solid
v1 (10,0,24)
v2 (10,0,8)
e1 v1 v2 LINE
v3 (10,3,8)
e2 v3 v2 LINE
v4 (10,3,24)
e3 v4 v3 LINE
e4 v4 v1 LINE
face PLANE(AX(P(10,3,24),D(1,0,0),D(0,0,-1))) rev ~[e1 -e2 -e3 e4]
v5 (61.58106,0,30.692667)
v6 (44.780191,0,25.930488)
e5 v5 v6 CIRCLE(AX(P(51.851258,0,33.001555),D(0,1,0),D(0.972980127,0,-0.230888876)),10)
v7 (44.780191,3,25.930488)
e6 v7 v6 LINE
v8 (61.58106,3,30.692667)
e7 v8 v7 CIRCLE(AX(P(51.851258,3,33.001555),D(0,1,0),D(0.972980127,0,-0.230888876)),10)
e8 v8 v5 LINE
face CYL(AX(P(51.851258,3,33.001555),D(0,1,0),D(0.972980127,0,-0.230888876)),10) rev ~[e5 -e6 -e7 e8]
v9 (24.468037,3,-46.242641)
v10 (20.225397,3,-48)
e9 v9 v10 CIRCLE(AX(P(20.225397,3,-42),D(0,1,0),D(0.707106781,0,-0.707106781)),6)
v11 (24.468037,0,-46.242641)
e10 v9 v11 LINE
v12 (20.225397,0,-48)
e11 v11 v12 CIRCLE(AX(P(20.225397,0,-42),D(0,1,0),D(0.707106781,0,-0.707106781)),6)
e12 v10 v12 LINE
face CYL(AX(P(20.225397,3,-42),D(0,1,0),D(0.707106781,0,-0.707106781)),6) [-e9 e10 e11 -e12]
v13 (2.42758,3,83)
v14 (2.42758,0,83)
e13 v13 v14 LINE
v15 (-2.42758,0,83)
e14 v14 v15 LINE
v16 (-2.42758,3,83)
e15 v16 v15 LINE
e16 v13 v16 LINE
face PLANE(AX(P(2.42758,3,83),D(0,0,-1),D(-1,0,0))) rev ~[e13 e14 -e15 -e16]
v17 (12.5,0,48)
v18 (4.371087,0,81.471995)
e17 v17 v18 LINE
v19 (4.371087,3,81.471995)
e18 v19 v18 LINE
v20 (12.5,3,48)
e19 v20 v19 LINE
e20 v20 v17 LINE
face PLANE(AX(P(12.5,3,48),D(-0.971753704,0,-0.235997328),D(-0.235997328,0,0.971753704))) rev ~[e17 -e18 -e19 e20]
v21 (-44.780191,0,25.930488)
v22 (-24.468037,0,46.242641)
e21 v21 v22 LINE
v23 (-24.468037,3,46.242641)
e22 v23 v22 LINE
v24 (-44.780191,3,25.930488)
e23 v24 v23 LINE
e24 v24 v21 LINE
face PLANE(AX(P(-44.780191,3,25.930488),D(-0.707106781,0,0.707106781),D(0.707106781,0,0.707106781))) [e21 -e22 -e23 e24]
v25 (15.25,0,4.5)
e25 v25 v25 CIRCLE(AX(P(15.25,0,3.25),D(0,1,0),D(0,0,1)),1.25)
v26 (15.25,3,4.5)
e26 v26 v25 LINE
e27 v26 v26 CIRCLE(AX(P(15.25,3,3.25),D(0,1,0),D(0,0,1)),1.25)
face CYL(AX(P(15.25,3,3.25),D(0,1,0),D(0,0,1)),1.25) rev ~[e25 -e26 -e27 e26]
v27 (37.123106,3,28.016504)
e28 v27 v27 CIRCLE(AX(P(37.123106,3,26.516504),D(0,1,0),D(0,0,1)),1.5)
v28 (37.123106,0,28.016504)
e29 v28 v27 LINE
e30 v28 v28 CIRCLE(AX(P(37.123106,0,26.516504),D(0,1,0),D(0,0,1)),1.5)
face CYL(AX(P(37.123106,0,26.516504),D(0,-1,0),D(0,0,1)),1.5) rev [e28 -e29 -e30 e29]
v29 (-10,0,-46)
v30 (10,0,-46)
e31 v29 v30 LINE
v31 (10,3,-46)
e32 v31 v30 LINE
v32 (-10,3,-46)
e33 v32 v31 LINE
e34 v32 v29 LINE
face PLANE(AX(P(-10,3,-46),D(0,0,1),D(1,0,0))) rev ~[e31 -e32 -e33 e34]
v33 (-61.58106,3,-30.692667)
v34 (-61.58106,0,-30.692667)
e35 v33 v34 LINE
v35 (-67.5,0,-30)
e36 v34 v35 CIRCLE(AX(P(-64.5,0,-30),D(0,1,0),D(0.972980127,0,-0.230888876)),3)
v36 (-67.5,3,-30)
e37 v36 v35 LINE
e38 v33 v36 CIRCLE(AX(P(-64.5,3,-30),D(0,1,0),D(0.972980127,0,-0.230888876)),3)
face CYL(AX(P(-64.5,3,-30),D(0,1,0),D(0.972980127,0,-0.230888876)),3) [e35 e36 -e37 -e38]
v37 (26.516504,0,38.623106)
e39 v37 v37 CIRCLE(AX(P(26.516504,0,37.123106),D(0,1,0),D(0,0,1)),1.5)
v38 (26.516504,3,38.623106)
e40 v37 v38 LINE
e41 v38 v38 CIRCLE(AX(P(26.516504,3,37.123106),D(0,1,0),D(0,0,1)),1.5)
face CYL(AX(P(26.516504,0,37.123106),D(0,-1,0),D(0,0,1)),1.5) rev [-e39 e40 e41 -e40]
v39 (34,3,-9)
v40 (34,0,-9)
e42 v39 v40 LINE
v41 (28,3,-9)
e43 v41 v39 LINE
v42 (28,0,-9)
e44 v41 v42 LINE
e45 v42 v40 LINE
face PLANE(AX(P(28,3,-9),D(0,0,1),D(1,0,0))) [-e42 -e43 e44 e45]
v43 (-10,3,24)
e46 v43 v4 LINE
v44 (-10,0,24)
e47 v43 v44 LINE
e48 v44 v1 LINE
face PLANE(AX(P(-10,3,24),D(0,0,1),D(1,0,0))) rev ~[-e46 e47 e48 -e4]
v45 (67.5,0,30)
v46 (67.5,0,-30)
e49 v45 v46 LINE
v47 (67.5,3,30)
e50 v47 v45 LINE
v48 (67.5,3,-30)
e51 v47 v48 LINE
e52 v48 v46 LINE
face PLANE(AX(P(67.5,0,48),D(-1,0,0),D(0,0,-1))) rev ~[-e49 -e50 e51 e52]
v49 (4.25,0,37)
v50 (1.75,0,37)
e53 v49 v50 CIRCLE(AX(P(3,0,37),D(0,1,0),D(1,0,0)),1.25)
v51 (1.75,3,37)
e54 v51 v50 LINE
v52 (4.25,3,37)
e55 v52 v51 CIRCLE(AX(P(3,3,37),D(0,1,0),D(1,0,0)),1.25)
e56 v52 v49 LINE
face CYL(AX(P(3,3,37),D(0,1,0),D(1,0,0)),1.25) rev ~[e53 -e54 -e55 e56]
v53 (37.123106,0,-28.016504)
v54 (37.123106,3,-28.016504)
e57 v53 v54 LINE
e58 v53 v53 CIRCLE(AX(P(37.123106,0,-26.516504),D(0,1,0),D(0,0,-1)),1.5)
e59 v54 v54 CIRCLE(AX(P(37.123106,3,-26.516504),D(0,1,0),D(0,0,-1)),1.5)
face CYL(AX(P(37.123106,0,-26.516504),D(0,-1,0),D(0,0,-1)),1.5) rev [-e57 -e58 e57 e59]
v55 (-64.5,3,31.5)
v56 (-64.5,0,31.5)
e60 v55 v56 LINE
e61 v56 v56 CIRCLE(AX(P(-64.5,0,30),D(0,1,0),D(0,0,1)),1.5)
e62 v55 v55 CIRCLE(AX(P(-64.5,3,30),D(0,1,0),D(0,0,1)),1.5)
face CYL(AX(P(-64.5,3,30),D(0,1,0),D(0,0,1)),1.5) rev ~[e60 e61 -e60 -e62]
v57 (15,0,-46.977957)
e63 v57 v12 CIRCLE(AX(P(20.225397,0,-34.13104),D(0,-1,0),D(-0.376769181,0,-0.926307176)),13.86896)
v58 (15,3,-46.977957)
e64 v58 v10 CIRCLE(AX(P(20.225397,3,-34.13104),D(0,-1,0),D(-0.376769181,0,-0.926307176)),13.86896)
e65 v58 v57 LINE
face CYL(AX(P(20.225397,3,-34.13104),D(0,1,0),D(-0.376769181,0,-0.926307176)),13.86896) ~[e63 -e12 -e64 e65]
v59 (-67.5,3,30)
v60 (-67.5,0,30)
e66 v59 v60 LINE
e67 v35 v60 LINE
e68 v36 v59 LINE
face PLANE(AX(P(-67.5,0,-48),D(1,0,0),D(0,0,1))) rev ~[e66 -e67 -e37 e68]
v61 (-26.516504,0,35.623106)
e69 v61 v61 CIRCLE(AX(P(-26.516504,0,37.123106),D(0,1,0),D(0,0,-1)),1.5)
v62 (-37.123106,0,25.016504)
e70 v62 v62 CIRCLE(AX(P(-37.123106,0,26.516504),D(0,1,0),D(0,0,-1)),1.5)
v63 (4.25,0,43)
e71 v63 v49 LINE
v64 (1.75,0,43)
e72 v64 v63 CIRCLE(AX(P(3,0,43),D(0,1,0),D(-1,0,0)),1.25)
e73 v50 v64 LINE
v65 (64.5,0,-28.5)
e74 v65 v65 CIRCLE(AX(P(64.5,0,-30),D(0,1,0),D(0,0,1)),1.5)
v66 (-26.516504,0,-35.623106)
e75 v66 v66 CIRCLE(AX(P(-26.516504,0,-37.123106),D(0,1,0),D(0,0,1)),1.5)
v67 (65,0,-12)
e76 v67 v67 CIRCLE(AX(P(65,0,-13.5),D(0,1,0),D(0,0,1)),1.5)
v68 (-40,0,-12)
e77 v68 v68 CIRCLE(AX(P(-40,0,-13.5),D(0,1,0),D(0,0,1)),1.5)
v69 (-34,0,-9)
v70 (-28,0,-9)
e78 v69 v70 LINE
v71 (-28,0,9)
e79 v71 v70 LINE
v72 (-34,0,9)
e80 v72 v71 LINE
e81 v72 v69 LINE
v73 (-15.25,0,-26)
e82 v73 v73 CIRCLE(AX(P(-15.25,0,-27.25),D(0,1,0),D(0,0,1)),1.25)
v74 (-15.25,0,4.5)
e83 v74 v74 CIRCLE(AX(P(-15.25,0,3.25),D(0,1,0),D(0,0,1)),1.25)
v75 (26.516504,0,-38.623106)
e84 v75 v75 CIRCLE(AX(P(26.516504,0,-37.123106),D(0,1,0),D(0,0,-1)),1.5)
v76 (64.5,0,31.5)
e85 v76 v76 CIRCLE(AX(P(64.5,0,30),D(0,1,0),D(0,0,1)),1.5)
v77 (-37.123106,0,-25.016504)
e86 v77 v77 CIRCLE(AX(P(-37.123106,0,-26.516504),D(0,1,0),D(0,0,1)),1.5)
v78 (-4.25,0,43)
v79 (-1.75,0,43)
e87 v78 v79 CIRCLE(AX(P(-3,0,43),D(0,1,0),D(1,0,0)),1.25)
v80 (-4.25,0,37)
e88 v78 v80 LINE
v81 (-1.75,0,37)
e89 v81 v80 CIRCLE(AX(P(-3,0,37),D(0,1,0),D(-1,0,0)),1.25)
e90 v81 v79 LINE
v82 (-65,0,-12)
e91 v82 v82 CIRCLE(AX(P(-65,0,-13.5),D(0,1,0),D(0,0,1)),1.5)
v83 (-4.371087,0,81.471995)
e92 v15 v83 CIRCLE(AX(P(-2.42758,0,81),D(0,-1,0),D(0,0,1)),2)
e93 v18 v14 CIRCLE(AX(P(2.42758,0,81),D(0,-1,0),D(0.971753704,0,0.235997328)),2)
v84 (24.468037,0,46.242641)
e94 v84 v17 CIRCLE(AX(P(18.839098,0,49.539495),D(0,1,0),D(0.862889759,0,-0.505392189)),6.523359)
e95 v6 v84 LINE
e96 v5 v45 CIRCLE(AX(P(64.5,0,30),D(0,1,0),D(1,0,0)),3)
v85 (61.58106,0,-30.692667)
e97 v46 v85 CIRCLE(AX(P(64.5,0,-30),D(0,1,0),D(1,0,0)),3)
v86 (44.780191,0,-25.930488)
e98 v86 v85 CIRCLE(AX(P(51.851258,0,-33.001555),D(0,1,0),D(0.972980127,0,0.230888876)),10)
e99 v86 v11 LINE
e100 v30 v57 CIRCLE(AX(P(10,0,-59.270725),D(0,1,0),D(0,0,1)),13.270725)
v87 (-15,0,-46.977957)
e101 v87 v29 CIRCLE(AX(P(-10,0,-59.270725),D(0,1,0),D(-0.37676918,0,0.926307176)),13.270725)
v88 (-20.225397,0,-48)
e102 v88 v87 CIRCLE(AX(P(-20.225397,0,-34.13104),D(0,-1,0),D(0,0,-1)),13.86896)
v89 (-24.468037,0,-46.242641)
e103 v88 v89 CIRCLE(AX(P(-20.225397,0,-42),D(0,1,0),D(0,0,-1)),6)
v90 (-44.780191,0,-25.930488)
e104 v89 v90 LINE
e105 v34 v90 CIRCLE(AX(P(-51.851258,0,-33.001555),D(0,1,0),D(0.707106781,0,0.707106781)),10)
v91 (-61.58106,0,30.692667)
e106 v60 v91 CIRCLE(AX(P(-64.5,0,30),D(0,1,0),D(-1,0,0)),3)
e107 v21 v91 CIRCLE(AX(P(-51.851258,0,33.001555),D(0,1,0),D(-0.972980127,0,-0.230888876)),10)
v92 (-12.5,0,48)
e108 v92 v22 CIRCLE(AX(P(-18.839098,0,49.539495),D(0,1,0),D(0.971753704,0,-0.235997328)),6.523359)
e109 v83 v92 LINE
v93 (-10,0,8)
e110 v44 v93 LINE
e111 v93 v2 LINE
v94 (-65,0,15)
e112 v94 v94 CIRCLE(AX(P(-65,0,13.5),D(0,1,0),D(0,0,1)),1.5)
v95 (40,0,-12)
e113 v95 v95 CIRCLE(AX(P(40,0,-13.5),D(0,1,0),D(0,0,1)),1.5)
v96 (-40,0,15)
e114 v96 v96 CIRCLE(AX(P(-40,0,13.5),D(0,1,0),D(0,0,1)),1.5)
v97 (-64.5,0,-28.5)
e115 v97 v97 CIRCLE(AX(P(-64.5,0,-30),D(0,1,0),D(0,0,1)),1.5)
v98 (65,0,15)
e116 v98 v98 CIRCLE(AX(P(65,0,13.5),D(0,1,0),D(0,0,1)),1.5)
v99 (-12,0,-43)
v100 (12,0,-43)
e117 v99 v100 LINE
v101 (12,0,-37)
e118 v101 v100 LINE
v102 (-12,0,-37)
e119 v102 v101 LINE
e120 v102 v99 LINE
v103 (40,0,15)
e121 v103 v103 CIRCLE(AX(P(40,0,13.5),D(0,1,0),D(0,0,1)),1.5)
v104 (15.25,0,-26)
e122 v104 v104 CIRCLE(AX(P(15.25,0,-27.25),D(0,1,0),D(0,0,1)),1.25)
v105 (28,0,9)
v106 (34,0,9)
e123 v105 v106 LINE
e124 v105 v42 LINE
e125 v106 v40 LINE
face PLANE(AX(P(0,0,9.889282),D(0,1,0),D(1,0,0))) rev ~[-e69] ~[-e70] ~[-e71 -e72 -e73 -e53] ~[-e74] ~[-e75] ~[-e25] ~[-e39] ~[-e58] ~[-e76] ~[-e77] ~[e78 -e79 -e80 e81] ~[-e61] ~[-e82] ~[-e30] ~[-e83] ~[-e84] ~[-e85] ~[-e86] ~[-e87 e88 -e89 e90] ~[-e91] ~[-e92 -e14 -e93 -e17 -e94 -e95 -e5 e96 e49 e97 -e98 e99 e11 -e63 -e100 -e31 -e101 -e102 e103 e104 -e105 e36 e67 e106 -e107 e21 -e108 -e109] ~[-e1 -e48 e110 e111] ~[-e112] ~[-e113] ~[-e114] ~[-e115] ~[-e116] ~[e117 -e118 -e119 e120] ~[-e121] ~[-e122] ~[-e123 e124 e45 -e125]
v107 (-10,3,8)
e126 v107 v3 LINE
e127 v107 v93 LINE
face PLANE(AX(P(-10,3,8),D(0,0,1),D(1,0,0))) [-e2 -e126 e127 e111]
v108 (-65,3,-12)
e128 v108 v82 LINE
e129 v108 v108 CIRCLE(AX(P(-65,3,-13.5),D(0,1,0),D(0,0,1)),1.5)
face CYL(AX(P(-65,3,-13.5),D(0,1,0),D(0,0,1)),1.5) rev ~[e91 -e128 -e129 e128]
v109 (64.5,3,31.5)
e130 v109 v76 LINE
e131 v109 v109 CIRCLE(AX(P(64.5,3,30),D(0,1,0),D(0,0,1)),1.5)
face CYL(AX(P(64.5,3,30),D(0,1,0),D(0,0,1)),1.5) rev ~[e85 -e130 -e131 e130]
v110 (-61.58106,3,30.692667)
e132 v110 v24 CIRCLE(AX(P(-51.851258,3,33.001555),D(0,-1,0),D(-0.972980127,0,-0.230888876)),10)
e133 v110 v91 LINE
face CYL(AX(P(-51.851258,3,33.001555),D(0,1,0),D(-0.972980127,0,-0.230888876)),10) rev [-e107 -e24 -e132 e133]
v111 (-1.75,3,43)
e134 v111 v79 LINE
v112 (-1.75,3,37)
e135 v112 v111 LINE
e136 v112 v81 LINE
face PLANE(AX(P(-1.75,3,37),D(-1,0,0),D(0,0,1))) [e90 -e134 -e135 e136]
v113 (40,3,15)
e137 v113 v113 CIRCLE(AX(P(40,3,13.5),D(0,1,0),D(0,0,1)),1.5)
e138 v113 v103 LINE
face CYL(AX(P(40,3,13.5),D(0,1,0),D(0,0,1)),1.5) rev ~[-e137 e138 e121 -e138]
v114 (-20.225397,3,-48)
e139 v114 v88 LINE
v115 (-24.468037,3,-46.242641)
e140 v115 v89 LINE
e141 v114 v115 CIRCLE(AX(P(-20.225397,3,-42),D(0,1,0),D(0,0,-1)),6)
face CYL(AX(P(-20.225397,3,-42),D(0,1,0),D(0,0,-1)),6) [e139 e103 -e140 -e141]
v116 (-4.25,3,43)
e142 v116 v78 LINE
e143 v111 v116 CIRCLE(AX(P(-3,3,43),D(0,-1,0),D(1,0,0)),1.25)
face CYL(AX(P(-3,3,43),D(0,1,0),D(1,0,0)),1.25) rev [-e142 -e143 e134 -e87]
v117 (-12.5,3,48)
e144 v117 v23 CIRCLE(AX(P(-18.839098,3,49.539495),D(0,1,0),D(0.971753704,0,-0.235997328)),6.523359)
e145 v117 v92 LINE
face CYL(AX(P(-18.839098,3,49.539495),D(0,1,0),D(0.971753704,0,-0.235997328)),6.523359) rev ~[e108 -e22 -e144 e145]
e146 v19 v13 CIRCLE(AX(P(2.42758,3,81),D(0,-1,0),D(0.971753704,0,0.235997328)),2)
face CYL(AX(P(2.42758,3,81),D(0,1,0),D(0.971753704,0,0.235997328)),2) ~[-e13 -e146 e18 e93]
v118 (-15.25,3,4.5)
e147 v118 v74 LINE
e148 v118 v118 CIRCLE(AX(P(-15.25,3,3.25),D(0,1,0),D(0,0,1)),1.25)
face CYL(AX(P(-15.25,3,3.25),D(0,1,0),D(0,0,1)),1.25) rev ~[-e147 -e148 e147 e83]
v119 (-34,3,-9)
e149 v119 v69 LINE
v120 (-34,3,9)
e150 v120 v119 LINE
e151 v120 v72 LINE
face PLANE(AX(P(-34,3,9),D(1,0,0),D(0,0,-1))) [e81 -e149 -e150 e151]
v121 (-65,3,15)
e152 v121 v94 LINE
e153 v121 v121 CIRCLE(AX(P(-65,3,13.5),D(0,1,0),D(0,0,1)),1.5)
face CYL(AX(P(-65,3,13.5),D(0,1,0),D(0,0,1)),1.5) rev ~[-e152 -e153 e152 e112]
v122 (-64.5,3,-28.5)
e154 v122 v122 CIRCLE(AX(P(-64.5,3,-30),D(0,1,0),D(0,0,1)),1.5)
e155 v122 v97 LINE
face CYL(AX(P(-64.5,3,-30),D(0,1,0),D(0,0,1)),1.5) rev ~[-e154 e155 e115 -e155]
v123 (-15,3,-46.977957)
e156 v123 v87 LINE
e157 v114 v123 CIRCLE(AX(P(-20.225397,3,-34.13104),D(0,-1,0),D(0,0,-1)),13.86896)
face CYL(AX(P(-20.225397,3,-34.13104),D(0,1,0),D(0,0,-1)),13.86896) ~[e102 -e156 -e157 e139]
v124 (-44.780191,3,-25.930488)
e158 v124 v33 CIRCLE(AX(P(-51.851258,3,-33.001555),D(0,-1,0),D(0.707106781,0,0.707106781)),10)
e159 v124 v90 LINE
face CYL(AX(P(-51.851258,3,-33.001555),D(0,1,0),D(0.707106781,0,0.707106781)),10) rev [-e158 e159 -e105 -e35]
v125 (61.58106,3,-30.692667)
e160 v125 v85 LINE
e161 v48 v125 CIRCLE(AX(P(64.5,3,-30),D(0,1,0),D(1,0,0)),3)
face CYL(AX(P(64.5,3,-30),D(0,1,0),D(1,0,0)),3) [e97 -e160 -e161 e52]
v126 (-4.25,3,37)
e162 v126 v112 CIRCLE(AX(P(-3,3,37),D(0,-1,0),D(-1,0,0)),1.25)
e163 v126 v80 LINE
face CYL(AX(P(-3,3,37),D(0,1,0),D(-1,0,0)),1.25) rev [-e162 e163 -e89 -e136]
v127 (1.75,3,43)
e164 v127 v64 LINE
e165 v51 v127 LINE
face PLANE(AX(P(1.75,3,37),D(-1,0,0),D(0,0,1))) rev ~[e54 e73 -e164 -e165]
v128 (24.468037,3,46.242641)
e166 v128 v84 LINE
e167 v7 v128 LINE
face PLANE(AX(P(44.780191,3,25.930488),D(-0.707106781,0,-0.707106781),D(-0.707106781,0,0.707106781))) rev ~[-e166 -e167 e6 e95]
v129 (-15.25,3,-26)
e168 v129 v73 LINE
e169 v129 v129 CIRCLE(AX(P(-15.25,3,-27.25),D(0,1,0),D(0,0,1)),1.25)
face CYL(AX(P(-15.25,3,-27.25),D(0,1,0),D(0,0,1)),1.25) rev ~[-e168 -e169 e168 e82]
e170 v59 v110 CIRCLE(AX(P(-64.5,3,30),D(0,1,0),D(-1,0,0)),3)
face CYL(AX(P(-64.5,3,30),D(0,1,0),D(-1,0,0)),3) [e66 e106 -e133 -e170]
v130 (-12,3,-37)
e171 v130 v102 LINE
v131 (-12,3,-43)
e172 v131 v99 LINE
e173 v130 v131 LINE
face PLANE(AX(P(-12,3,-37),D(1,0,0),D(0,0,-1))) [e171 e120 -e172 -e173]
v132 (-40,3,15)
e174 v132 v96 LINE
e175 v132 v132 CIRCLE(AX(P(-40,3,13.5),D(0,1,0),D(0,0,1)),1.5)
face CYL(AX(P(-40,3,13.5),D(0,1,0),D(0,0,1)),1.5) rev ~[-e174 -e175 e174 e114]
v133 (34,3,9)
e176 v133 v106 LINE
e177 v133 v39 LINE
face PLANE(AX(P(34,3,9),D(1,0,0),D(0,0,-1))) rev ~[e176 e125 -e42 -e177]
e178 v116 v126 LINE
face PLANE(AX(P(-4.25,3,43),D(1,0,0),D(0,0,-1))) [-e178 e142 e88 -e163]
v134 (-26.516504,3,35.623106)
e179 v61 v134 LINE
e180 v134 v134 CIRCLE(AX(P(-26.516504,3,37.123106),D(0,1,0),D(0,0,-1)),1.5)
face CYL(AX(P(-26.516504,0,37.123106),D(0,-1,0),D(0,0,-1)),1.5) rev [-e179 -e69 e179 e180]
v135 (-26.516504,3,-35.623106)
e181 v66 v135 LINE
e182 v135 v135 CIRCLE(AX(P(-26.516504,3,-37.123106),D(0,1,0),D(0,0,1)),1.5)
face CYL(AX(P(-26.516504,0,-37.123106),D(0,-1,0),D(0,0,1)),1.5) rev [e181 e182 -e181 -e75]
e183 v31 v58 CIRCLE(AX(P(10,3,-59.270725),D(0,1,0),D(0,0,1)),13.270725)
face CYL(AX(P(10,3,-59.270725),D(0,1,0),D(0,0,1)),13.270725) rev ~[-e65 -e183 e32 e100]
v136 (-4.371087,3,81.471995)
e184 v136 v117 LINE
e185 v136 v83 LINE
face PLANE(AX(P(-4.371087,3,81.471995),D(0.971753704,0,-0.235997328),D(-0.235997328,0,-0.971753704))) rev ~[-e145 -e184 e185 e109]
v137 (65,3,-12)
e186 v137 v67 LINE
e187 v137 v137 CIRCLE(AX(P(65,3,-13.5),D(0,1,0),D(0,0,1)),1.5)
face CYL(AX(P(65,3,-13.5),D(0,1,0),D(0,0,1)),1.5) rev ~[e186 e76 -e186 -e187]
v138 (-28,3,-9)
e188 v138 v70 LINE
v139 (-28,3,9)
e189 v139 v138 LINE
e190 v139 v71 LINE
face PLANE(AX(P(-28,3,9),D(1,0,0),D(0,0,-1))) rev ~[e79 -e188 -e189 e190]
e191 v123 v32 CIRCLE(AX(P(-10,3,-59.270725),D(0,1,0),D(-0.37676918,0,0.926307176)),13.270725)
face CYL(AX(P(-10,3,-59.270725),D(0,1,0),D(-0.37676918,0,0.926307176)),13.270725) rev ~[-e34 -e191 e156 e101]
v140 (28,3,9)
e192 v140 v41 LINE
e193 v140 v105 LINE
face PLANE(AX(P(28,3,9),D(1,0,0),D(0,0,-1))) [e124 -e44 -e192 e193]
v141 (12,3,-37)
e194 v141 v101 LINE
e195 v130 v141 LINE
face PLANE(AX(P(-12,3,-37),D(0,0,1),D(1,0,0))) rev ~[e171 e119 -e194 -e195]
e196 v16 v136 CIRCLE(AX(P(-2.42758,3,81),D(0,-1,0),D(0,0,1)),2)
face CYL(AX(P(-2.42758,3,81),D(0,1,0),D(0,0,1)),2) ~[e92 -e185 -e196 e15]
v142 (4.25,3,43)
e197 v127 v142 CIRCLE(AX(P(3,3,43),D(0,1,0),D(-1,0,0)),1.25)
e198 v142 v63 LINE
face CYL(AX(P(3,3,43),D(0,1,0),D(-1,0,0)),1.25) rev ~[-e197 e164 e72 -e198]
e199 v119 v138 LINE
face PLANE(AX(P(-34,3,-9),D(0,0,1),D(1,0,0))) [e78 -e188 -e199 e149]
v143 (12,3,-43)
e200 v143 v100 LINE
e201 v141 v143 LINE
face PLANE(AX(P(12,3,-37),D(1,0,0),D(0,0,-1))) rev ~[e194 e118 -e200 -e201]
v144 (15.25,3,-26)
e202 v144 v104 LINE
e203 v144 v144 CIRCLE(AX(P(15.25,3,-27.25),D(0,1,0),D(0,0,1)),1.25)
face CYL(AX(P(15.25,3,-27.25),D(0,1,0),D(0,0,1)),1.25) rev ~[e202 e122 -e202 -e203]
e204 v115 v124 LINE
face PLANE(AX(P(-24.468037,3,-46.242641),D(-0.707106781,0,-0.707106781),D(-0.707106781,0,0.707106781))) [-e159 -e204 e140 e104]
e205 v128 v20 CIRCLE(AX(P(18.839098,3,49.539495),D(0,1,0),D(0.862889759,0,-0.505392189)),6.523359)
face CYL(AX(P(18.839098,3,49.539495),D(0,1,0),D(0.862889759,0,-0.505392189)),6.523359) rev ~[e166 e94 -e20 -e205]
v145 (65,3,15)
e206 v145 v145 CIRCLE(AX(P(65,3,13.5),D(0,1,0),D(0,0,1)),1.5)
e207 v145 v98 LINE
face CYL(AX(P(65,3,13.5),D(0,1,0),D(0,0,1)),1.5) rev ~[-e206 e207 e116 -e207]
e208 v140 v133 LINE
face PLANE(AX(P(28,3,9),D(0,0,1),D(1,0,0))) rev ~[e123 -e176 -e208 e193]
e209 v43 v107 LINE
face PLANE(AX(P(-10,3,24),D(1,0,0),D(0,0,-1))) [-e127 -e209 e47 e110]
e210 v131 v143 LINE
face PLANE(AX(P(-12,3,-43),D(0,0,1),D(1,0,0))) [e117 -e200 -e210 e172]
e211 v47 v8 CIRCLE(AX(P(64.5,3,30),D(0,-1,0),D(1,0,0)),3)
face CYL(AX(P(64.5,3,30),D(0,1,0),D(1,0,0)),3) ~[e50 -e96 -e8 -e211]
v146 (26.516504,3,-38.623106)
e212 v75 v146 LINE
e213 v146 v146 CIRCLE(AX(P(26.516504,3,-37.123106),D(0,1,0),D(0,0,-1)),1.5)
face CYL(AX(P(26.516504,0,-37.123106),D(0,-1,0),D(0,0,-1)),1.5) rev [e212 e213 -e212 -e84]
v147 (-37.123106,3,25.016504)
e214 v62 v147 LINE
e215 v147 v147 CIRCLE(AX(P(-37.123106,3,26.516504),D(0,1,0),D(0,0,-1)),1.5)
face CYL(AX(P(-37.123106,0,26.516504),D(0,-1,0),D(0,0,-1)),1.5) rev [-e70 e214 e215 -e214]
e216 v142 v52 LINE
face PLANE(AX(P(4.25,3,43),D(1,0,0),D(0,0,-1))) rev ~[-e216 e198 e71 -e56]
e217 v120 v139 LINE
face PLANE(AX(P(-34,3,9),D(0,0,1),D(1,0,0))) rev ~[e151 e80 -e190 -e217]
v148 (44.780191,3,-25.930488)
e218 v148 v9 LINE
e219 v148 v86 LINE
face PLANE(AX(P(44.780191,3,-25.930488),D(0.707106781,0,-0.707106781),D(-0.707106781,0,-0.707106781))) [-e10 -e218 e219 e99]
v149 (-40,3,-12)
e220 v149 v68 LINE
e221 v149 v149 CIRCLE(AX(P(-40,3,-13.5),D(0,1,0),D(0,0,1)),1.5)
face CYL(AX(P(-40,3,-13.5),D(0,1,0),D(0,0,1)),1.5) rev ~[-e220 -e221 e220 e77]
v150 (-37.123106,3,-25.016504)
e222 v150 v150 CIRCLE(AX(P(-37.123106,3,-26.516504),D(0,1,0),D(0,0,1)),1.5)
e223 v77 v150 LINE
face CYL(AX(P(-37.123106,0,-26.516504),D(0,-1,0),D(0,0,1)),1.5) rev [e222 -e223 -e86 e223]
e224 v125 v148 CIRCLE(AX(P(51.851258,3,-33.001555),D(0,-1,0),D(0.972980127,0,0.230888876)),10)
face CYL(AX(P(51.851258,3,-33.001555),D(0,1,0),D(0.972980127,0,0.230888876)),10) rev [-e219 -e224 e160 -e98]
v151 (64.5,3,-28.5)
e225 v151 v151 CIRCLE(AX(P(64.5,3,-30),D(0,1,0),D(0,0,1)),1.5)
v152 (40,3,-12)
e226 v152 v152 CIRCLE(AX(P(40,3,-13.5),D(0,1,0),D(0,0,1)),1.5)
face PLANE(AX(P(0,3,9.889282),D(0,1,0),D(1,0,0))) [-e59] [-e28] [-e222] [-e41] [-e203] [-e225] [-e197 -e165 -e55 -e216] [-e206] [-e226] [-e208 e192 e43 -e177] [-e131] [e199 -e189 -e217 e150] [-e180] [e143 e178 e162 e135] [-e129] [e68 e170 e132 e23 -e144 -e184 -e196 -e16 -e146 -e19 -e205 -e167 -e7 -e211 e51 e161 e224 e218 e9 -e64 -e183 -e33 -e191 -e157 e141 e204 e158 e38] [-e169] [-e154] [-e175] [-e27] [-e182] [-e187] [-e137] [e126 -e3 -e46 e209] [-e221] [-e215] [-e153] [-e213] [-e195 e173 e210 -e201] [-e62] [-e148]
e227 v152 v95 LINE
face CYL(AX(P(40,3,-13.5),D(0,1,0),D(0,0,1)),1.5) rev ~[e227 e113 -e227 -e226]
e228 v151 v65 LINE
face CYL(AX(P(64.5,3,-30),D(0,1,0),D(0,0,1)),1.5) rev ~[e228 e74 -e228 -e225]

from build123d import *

# Parameters (mm, degrees)
SKETCH_1_R          = 1.5
EXTRUDE_1_DEPTH     = 3
SKETCH_2_R          = 1.5
SKETCH_2_R_2        = 1.25
SKETCH_2_W          = 20
SKETCH_2_H          = 16
CUT_EXTRUDE_1_DEPTH = 31
SKETCH_3_W          = 24
SKETCH_3_H          = 6
SKETCH_3_W_2        = 6
SKETCH_3_H_2        = 18
CUT_EXTRUDE_2_DEPTH = 10
SKETCH_5_R          = 1.5
CUT_EXTRUDE_3_DEPTH = 10
CUT_EXTRUDE_4_DEPTH = 3


with BuildPart() as part:
    # 草图1 → 凸台-拉伸1 (new body)
    with BuildSketch(Plane(origin=(0, 0, 0), x_dir=(1, 0, 0), z_dir=(0, 1, 0))):
        with BuildLine():
            Line((-12.5, -50), (-12.5, -81))
            ThreePointArc((-12.5, -81), (-11.914213562, -82.414213562), (-10.5, -83))
            Line((-10.5, -83), (10.5, -83))
            ThreePointArc((10.5, -83), (11.914213562, -82.414213562), (12.5, -81))
            Line((12.5, -81), (12.5, -50))
            ThreePointArc((12.5, -50), (13.085786438, -48.585786438), (14.5, -48))
            Line((14.5, -48), (67.5, -48))
            Line((67.5, -48), (67.5, 48))
            Line((67.5, 48), (-67.5, 48))
            Line((-67.5, 48), (-67.5, -48))
            Line((-67.5, -48), (-14.5, -48))
            ThreePointArc((-14.5, -48), (-13.085786438, -48.585786438), (-12.5, -50))
        make_face()
        with Locations(Location((-37.123106012, 26.516504294, 0), (0, 0, 270))):
            Circle(SKETCH_1_R, mode=Mode.SUBTRACT)
        with Locations(Location((-26.516504294, 37.123106012, 0), (0, 0, 270))):
            Circle(SKETCH_1_R, mode=Mode.SUBTRACT)
        with Locations(Location((26.516504294, 37.123106012, 0), (0, 0, 90))):
            Circle(SKETCH_1_R, mode=Mode.SUBTRACT)
        with Locations(Location((37.123106012, 26.516504294, 0), (0, 0, 90))):
            Circle(SKETCH_1_R, mode=Mode.SUBTRACT)
        with Locations(Location((37.123106012, -26.516504294, 0), (0, 0, 270))):
            Circle(SKETCH_1_R, mode=Mode.SUBTRACT)
        with Locations(Location((26.516504294, -37.123106012, 0), (0, 0, 270))):
            Circle(SKETCH_1_R, mode=Mode.SUBTRACT)
        with Locations(Location((-37.123106012, -26.516504294, 0), (0, 0, 90))):
            Circle(SKETCH_1_R, mode=Mode.SUBTRACT)
        with Locations(Location((-26.516504294, -37.123106012, 0), (0, 0, 90))):
            Circle(SKETCH_1_R, mode=Mode.SUBTRACT)
    extrude(amount=EXTRUDE_1_DEPTH)

    # 草图2 → 切除-拉伸1 (cut)
    with BuildSketch(Plane(origin=(0, 3, 0), x_dir=(1, 0, 0), z_dir=(0, 1, 0))):
        with Locations(Location((-40, 13.5, 0), (0, 0, 270))):
            Circle(SKETCH_2_R)
        with Locations(Location((-40, -13.5, 0), (0, 0, 270))):
            Circle(SKETCH_2_R)
        with Locations(Location((-65, 13.5, 0), (0, 0, 270))):
            Circle(SKETCH_2_R)
        with Locations(Location((-65, -13.5, 0), (0, 0, 270))):
            Circle(SKETCH_2_R)
        with Locations(Location((40, -13.5, 0), (0, 0, 270))):
            Circle(SKETCH_2_R)
        with Locations(Location((40, 13.5, 0), (0, 0, 270))):
            Circle(SKETCH_2_R)
        with Locations(Location((65, -13.5, 0), (0, 0, 270))):
            Circle(SKETCH_2_R)
        with Locations(Location((65, 13.5, 0), (0, 0, 270))):
            Circle(SKETCH_2_R)
        with Locations(Location((-15.25, 27.25, 0), (0, 0, 270))):
            Circle(SKETCH_2_R_2)
        with Locations(Location((15.25, 27.25, 0), (0, 0, 270))):
            Circle(SKETCH_2_R_2)
        with Locations(Location((15.25, -3.25, 0), (0, 0, 270))):
            Circle(SKETCH_2_R_2)
        with Locations(Location((-15.25, -3.25, 0), (0, 0, 270))):
            Circle(SKETCH_2_R_2)
        with BuildLine():
            Line((4.25, -43), (4.25, -37))
            ThreePointArc((4.25, -37), (3, -35.75), (1.75, -37))
            Line((1.75, -37), (1.75, -43))
            ThreePointArc((1.75, -43), (3, -44.25), (4.25, -43))
        make_face()
        with BuildLine():
            Line((-4.25, -43), (-4.25, -37))
            ThreePointArc((-4.25, -37), (-3, -35.75), (-1.75, -37))
            Line((-1.75, -37), (-1.75, -43))
            ThreePointArc((-1.75, -43), (-3, -44.25), (-4.25, -43))
        make_face()
        with Locations((0, -16)):
            Rectangle(SKETCH_2_W, SKETCH_2_H)
    extrude(amount=-CUT_EXTRUDE_1_DEPTH, mode=Mode.SUBTRACT)

    # 草图3 → 切除-拉伸2 (cut)
    with BuildSketch(Plane(origin=(0, 3, 0), x_dir=(1, 0, 0), z_dir=(0, 1, 0))):
        with Locations((0, 40)):
            Rectangle(SKETCH_3_W, SKETCH_3_H)
        with Locations((31, 0)):
            Rectangle(SKETCH_3_W_2, SKETCH_3_H_2)
        with Locations((-31, 0)):
            Rectangle(SKETCH_3_W_2, SKETCH_3_H_2)
    extrude(amount=-CUT_EXTRUDE_2_DEPTH, mode=Mode.SUBTRACT)

    # 草图5 → 切除-拉伸3 (cut)
    with BuildSketch(Plane(origin=(0, 3, 0), x_dir=(1, 0, 0), z_dir=(0, 1, 0))):
        with Locations(Location((-64.5, 30, 0), (0, 0, 270))):
            Circle(SKETCH_5_R)
        with Locations(Location((64.5, 30, 0), (0, 0, 270))):
            Circle(SKETCH_5_R)
        with Locations(Location((64.5, -30, 0), (0, 0, 270))):
            Circle(SKETCH_5_R)
        with Locations(Location((-64.5, -30, 0), (0, 0, 270))):
            Circle(SKETCH_5_R)
        with BuildLine():
            Line((-24.468037432, 46.242640687), (-44.780190541, 25.930487577))
            ThreePointArc((-44.780190541, 25.930487577), (-54.578308632, 23.380578475), (-61.58105962, 30.692666628))
            ThreePointArc((-61.58105962, 30.692666628), (-64.848696759, 32.979666184), (-67.5, 30))
            Line((-67.5, 30), (-67.5, 48))
            Line((-67.5, 48), (-20.225396744, 48))
            ThreePointArc((-20.225396744, 48), (-22.521497339, 47.543277195), (-24.468037432, 46.242640687))
        make_face()
        with BuildLine():
            Line((67.5, 48), (67.5, 30))
            ThreePointArc((67.5, 30), (64.848696759, 32.979666184), (61.58105962, 30.692666628))
            ThreePointArc((61.58105962, 30.692666628), (54.578308632, 23.380578475), (44.780190541, 25.930487577))
            Line((44.780190541, 25.930487577), (24.468037432, 46.242640687))
            ThreePointArc((24.468037432, 46.242640687), (22.521497339, 47.543277195), (20.225396744, 48))
            Line((20.225396744, 48), (67.5, 48))
        make_face()
        with BuildLine():
            Line((67.5, -48), (67.5, -30))
            ThreePointArc((67.5, -30), (64.848696759, -32.979666184), (61.58105962, -30.692666628))
            ThreePointArc((61.58105962, -30.692666628), (54.578308632, -23.380578475), (44.780190541, -25.930487577))
            Line((44.780190541, -25.930487577), (24.468037432, -46.242640687))
            ThreePointArc((24.468037432, -46.242640687), (22.521497339, -47.543277195), (20.225396744, -48))
            Line((20.225396744, -48), (67.5, -48))
        make_face()
        with BuildLine():
            Line((-20.225396744, -48), (-67.5, -48))
            Line((-67.5, -48), (-67.5, -30))
            ThreePointArc((-67.5, -30), (-64.848696759, -32.979666184), (-61.58105962, -30.692666628))
            ThreePointArc((-61.58105962, -30.692666628), (-54.578308632, -23.380578475), (-44.780190541, -25.930487577))
            Line((-44.780190541, -25.930487577), (-24.468037432, -46.242640687))
            ThreePointArc((-24.468037432, -46.242640687), (-22.521497339, -47.543277195), (-20.225396744, -48))
        make_face()
    extrude(amount=-CUT_EXTRUDE_3_DEPTH, mode=Mode.SUBTRACT)

    # 草图6 → 切除-拉伸4 (cut)
    with BuildSketch(Plane(origin=(0, 3, 0), x_dir=(1, 0, 0), z_dir=(0, 1, 0))):
        with BuildLine():
            Line((-10, 46), (10, 46))
            ThreePointArc((10, 46), (12.547371205, 46.246783902), (15, 46.977957164))
            ThreePointArc((15, 46.977957164), (17.563191705, 47.742091241), (20.225396744, 48))
            Line((20.225396744, 48), (20.225396744, 49))
            Line((20.225396744, 49), (-20.225396744, 49))
            Line((-20.225396744, 49), (-20.225396744, 48))
            ThreePointArc((-20.225396744, 48), (-17.563191705, 47.742091241), (-15, 46.977957164))
            ThreePointArc((-15, 46.977957164), (-12.547371205, 46.246783902), (-10, 46))
        make_face()
        with BuildLine():
            Line((-4.371087012, -81.471994656), (-12.5, -48))
            ThreePointArc((-12.5, -48), (-17.891385365, -43.085345419), (-24.468037432, -46.242640687))
            Line((-24.468037432, -46.242640687), (-24.468037432, -84))
            Line((-24.468037432, -84), (24.468037432, -84))
            Line((24.468037432, -84), (24.468037432, -46.242640687))
            ThreePointArc((24.468037432, -46.242640687), (17.891385365, -43.085345419), (12.5, -48))
            Line((12.5, -48), (4.371087012, -81.471994656))
            ThreePointArc((4.371087012, -81.471994656), (3.663704737, -82.572257821), (2.427579604, -83))
            Line((2.427579604, -83), (-2.427579604, -83))
            ThreePointArc((-2.427579604, -83), (-3.663704737, -82.572257821), (-4.371087012, -81.471994656))
        make_face()
    extrude(amount=-CUT_EXTRUDE_4_DEPTH, mode=Mode.SUBTRACT)


solid = part.part
